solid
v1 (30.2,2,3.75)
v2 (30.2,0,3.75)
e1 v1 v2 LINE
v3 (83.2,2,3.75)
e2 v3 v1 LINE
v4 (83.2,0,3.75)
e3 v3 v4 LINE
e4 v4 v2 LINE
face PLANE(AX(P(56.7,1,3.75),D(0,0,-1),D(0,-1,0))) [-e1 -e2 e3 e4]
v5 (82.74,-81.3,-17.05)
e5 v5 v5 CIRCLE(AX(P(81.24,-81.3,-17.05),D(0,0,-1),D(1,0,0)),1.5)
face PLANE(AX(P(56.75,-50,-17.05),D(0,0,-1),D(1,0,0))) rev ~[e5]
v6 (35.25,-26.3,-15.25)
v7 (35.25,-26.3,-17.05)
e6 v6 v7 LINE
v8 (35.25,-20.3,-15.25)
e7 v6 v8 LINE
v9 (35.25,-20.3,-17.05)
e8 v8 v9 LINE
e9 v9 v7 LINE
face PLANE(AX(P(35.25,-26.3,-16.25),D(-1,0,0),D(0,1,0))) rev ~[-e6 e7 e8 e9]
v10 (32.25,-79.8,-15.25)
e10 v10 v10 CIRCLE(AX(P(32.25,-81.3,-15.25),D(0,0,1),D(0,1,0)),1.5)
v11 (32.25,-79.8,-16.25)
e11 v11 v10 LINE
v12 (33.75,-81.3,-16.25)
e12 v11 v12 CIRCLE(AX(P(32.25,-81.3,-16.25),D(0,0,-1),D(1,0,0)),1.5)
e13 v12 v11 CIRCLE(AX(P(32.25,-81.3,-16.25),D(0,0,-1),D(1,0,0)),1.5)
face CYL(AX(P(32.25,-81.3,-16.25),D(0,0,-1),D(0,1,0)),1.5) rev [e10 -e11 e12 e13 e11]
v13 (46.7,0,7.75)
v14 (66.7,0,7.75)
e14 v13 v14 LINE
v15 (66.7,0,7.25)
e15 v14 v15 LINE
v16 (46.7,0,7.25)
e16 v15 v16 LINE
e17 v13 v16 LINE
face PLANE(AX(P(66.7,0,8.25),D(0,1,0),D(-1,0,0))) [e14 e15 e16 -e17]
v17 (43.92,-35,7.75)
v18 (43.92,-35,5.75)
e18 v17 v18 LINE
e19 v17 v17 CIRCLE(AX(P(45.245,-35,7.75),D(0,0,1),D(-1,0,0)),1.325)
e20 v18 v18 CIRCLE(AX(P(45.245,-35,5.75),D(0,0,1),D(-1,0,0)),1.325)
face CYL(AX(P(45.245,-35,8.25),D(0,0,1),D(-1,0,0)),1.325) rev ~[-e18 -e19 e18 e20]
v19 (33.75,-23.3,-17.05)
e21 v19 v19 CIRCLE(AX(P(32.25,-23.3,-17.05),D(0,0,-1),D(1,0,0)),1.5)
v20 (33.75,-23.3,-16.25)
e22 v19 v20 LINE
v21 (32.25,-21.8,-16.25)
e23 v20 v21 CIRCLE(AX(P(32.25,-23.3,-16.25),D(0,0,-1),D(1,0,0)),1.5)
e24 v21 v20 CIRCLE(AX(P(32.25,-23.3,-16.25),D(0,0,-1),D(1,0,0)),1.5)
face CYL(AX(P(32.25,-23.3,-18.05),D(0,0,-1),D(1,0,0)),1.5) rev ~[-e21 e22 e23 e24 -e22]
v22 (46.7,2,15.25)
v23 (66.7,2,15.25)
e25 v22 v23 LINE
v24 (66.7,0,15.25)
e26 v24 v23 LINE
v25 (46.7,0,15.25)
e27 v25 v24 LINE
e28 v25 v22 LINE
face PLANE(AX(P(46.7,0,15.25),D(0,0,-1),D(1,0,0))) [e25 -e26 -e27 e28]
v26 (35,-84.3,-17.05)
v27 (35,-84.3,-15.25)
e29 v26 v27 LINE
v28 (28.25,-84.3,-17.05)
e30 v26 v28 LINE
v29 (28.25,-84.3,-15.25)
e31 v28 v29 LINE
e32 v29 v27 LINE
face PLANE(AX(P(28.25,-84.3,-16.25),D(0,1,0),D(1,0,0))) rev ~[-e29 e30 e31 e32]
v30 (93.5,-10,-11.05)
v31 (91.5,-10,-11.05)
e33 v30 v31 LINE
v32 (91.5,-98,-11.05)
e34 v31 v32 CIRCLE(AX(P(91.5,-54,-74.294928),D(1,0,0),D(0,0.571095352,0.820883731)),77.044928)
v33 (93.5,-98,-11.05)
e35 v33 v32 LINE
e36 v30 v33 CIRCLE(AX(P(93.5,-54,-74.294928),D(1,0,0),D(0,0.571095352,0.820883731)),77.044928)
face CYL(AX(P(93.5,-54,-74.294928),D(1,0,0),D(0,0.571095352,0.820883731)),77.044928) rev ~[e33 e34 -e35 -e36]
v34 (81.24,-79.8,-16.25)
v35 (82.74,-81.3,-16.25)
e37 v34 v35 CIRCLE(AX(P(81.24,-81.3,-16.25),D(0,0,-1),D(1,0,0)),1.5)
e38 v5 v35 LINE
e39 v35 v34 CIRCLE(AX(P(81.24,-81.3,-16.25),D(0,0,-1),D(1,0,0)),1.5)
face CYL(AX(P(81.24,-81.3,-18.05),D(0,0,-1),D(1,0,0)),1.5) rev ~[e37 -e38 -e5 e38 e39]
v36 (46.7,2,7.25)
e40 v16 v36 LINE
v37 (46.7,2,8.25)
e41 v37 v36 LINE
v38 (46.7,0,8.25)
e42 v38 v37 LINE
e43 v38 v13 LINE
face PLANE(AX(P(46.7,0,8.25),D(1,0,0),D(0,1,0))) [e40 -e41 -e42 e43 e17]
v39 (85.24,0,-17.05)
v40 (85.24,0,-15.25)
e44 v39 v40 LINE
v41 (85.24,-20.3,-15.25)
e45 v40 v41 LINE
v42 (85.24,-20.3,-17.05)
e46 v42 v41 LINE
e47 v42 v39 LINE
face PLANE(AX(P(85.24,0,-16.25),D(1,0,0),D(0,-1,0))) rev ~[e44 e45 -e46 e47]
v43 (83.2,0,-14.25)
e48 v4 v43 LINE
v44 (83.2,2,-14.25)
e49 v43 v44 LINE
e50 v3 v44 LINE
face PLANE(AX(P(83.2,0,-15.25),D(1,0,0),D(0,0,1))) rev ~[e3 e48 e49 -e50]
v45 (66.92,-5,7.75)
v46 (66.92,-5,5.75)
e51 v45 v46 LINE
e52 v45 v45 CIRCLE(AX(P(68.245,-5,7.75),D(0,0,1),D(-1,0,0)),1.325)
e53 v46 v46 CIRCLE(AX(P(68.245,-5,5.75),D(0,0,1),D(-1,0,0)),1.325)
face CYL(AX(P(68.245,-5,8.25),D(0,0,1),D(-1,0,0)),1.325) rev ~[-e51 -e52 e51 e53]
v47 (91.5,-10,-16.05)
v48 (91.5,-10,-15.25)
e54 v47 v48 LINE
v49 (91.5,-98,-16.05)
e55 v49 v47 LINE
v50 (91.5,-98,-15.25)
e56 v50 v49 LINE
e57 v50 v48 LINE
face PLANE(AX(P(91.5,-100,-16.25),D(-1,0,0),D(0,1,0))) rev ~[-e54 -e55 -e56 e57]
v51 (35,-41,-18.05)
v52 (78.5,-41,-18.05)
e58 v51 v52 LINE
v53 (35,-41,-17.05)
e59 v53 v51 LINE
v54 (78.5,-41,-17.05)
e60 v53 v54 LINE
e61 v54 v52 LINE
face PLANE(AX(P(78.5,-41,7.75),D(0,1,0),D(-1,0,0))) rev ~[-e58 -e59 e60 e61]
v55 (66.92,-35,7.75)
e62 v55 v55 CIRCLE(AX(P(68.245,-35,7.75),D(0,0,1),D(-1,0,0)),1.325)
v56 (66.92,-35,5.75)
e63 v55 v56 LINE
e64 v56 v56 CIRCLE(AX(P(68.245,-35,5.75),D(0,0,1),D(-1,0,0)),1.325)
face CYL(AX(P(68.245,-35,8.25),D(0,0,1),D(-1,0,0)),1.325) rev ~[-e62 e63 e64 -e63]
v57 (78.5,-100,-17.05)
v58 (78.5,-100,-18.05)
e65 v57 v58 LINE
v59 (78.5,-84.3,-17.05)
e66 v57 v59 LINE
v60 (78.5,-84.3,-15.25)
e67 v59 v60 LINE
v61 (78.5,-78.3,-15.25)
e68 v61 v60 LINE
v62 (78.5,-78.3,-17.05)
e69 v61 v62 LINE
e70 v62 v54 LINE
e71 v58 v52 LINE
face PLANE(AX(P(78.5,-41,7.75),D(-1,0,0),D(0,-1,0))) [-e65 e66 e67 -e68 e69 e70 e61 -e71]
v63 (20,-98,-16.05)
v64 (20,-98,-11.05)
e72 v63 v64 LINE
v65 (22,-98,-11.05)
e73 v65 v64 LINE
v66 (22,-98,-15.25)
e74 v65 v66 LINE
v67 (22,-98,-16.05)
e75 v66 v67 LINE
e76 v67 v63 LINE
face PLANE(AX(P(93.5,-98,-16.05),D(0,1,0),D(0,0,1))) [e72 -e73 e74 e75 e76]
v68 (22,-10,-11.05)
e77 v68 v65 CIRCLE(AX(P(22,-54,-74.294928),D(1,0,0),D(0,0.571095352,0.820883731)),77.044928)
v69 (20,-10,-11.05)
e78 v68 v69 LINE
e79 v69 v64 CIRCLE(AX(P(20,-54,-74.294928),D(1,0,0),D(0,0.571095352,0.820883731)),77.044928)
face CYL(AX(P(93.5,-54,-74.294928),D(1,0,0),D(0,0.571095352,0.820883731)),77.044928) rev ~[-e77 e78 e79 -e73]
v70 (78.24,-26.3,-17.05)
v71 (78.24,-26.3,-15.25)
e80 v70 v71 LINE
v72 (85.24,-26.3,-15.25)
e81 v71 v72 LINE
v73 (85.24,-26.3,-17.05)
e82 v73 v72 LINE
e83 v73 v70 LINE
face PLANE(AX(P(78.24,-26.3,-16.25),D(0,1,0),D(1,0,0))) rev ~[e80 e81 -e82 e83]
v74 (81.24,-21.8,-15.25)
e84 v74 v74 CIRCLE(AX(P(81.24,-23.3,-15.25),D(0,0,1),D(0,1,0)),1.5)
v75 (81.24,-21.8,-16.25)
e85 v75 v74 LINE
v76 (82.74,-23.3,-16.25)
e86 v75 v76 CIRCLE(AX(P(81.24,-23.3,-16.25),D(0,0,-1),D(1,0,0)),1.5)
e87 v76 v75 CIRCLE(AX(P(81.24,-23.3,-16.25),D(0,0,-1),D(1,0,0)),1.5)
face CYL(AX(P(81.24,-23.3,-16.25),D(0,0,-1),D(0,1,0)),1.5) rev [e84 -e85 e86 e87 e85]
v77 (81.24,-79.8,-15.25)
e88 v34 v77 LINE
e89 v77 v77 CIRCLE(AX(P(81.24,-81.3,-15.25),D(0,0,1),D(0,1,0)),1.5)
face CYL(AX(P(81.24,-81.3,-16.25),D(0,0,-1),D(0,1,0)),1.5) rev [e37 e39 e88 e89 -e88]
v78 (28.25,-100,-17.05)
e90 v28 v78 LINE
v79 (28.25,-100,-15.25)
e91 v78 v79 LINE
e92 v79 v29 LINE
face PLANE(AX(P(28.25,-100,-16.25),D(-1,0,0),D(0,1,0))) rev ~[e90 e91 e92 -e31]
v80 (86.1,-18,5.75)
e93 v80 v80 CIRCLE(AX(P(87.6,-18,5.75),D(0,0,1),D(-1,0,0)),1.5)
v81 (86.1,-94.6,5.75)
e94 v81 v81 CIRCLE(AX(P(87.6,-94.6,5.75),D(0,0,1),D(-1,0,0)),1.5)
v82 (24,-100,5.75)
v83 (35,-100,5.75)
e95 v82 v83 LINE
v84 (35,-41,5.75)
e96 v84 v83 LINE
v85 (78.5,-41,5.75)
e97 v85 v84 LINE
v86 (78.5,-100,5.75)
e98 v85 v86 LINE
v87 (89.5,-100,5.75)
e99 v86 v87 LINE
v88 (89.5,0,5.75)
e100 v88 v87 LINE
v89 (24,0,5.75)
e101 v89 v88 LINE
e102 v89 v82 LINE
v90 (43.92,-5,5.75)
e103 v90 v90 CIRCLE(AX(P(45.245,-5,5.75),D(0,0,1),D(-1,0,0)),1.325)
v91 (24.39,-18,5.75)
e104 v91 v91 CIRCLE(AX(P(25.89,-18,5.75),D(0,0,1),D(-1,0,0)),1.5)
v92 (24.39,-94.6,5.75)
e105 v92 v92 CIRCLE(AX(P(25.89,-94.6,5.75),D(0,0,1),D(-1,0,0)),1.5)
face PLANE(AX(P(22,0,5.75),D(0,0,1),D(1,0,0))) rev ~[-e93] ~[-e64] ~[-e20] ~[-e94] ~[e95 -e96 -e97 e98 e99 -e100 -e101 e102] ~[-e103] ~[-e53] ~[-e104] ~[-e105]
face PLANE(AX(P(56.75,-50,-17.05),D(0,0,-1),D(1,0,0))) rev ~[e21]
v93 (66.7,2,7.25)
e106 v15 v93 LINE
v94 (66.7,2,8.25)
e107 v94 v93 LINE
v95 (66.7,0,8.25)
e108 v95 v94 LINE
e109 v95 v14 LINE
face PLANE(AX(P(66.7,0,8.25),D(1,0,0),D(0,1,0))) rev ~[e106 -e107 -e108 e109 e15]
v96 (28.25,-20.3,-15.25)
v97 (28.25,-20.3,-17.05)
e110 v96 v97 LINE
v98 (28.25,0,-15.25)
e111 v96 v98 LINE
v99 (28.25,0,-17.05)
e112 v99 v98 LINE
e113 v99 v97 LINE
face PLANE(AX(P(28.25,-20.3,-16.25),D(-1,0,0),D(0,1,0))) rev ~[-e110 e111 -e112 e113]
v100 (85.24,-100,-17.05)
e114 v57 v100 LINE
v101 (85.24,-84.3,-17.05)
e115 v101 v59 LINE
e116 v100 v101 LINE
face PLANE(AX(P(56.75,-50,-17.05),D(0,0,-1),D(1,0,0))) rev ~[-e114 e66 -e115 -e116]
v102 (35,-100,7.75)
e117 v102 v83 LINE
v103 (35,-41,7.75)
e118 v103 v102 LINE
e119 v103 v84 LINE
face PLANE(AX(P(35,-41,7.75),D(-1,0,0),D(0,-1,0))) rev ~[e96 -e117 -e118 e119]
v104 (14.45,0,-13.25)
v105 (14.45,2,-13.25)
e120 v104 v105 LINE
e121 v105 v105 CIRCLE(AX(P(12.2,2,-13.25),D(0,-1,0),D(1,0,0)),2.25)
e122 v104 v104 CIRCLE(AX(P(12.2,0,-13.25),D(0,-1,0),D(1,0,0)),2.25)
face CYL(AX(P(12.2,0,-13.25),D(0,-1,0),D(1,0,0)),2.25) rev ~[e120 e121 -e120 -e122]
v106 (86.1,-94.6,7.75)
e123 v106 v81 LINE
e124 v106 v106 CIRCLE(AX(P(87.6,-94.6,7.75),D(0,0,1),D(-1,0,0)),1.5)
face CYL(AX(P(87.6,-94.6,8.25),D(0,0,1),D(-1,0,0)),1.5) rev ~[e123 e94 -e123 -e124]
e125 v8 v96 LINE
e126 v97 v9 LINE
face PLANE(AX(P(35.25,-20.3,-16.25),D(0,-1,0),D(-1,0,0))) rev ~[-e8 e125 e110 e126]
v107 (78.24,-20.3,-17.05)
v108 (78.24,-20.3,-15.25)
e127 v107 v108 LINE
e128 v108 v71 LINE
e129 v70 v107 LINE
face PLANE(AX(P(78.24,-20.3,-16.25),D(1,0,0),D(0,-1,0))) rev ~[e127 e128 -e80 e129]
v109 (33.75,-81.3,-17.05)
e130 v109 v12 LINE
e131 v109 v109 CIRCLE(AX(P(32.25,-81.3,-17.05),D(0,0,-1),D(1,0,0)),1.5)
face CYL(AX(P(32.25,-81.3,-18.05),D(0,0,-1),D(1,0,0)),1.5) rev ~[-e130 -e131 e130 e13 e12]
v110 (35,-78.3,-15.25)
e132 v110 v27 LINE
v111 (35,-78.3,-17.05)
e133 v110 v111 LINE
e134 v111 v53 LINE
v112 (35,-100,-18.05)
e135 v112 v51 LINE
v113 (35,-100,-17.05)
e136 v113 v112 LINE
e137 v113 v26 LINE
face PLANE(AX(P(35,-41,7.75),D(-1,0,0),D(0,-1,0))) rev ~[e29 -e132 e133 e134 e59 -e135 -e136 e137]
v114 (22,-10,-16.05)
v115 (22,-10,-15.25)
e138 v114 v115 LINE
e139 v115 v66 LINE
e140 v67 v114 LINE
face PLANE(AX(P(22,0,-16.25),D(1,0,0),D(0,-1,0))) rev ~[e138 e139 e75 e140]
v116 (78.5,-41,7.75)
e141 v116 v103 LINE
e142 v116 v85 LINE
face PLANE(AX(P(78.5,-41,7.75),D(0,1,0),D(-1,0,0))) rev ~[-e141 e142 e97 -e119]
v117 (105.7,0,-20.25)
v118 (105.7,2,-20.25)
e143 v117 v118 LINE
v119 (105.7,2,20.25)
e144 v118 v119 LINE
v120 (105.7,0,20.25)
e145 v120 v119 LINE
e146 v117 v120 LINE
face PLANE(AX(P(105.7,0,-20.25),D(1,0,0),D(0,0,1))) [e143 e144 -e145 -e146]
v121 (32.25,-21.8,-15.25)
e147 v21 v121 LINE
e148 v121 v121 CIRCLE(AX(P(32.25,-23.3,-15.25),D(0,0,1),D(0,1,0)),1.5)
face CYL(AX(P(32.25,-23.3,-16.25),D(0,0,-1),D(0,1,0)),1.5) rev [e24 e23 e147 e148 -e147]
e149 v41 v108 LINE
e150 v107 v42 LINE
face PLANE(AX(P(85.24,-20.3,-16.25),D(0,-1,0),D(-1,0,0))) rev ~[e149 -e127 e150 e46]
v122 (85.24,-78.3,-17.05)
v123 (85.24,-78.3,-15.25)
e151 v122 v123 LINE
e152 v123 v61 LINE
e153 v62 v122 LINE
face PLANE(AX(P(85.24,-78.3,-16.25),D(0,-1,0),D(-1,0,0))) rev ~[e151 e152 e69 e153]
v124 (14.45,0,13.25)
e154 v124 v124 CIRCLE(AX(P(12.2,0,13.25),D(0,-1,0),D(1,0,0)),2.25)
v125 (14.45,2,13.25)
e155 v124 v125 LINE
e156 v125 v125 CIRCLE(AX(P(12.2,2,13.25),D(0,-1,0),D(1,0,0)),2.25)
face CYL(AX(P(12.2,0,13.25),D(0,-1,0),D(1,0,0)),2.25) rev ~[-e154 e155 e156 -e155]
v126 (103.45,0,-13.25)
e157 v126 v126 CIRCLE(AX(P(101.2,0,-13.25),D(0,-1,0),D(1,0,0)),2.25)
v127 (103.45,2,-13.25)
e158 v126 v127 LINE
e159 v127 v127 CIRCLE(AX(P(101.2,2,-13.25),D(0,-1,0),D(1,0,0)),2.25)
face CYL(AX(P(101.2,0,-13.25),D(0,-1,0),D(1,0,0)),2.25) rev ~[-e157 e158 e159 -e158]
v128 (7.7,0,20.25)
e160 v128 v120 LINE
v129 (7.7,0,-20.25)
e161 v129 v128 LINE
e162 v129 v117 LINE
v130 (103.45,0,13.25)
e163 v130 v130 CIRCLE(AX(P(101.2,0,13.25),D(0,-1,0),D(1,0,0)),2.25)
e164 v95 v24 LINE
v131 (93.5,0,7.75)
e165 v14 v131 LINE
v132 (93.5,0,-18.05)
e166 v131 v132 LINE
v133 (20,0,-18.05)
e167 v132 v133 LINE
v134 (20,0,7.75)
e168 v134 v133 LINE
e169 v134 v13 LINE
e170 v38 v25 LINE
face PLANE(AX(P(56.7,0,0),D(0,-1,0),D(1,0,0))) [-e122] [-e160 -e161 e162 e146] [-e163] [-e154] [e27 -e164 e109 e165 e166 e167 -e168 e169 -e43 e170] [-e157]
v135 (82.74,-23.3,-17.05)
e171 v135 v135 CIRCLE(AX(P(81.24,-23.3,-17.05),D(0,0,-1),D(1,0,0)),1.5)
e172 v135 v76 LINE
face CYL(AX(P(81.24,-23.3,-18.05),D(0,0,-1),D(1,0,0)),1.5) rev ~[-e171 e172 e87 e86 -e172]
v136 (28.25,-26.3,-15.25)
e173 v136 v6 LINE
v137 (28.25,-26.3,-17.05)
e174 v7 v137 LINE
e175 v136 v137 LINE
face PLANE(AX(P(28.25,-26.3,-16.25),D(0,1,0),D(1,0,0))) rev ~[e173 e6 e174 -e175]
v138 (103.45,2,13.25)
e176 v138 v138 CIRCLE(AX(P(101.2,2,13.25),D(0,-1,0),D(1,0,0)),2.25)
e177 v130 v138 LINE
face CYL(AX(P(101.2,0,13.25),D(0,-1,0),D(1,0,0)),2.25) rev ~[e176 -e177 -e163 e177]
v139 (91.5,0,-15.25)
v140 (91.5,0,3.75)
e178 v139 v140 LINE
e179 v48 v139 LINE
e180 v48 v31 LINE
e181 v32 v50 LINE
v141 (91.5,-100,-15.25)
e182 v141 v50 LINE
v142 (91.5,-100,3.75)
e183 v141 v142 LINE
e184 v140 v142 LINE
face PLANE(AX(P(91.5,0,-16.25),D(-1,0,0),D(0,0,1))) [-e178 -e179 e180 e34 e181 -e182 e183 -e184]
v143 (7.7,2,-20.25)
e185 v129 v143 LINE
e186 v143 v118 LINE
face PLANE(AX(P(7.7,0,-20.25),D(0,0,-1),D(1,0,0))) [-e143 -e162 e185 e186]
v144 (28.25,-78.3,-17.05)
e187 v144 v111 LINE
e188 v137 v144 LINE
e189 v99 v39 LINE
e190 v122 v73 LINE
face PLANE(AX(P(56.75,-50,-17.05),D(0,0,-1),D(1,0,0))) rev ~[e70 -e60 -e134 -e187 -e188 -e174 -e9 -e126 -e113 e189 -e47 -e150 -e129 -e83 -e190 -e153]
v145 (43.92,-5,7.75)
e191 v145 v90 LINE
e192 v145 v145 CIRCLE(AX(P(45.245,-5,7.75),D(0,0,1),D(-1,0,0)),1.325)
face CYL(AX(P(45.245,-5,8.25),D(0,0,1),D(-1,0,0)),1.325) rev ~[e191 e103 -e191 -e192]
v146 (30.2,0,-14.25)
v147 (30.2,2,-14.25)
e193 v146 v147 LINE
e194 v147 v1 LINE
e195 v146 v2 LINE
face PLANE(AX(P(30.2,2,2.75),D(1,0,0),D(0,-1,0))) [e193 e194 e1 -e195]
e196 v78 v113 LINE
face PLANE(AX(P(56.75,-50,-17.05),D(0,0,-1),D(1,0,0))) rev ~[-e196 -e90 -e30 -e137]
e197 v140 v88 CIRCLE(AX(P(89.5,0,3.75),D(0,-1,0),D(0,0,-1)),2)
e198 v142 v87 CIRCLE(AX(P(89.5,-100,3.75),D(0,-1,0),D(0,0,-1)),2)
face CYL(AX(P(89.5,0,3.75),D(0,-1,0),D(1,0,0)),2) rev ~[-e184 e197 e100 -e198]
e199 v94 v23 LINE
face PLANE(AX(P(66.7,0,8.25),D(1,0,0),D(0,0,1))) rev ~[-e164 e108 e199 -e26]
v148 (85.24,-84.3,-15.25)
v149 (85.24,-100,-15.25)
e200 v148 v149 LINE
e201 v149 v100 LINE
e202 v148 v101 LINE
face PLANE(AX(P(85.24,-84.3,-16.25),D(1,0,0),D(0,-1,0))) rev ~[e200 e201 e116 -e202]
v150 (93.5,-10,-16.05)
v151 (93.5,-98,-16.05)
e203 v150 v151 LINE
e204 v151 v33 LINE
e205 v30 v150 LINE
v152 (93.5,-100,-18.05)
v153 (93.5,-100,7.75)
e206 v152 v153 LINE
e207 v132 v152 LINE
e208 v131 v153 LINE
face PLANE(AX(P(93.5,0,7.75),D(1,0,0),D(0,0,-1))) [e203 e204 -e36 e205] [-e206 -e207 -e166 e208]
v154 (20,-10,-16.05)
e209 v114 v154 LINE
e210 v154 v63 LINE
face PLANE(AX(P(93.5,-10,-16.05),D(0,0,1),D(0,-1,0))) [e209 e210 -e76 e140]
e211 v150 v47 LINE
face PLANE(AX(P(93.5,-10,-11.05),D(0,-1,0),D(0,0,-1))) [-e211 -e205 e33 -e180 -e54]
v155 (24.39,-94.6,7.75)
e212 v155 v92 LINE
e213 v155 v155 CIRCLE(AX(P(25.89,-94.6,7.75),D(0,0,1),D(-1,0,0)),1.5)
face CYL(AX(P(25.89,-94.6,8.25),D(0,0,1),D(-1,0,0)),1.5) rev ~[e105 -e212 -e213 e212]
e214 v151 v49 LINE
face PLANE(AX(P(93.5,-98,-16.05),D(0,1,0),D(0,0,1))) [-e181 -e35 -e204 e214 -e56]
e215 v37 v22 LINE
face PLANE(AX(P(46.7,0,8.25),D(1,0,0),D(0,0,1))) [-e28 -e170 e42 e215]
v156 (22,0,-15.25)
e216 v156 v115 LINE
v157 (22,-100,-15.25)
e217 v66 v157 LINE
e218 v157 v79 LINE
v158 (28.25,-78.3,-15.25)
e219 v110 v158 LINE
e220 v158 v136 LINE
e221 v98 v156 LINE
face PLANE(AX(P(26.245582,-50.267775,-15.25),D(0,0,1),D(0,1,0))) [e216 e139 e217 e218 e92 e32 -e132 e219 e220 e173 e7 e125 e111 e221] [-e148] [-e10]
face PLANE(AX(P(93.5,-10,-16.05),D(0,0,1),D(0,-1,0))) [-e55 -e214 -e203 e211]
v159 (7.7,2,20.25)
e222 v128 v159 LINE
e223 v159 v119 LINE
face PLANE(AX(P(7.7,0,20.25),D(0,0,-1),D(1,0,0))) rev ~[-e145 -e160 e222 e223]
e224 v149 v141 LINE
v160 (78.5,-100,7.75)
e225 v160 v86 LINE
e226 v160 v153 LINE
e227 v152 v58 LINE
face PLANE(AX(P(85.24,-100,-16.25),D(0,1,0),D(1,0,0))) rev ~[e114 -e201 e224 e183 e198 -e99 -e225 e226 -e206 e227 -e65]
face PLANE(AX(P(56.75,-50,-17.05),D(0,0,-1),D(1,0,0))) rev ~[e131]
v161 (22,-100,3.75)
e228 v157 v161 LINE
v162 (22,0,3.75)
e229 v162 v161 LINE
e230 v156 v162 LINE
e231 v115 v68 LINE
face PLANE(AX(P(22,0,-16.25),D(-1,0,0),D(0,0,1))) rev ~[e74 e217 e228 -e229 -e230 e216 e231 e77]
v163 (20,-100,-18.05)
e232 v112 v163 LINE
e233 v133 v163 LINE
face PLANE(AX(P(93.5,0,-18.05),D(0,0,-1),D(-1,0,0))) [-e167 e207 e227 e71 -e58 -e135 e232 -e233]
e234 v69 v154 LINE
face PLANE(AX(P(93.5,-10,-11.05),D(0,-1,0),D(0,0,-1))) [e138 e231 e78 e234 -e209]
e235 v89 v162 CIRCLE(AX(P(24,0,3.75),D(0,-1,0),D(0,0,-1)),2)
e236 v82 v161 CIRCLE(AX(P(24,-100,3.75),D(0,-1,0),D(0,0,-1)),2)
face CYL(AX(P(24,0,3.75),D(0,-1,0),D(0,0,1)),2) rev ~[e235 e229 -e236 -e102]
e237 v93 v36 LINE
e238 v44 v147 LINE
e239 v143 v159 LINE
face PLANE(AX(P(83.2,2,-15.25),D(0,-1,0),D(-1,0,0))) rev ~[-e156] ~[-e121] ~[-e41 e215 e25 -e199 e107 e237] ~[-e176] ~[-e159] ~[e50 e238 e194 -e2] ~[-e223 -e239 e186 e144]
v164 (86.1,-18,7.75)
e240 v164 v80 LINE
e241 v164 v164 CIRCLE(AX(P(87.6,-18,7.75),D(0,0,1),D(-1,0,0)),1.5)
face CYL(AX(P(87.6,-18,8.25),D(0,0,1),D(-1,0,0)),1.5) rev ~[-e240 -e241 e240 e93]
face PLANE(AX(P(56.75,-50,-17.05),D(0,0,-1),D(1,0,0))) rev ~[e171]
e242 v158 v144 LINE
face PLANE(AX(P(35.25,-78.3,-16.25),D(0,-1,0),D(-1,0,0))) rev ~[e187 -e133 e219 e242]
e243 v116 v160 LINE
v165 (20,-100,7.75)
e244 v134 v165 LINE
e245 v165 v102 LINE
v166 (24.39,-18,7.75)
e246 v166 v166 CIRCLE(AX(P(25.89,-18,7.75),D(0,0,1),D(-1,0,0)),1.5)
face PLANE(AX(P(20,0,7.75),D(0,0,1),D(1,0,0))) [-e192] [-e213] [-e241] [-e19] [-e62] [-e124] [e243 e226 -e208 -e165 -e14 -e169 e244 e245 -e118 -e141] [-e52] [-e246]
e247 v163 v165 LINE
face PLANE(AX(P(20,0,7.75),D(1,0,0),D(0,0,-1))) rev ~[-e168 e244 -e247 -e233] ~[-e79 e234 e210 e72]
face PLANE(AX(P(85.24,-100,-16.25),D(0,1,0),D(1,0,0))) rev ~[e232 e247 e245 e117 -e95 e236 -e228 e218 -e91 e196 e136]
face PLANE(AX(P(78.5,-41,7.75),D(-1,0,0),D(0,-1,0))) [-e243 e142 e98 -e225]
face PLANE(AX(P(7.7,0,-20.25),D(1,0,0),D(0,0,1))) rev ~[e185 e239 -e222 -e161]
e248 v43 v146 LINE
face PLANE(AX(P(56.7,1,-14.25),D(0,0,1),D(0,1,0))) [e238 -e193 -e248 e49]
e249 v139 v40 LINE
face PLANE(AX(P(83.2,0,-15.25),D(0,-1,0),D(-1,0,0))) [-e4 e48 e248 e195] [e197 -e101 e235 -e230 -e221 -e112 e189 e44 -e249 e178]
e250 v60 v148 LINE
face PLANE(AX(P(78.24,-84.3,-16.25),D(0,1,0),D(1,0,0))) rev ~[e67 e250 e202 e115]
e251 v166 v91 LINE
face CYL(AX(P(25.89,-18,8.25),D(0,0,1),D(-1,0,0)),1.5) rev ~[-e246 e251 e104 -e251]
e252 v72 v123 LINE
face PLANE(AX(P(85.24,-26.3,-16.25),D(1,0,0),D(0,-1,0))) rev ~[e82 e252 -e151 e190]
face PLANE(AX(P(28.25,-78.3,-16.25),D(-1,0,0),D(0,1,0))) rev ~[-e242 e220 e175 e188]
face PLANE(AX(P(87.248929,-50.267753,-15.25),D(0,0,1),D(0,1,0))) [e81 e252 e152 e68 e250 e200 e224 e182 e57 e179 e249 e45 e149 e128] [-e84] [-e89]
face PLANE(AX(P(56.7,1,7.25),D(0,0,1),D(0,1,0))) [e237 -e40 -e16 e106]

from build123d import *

# Parameters (mm, degrees)
SKETCH020_W        = 98
SKETCH020_H        = 40.5
SKETCH020_R        = 2.25
SKETCH020_W_2      = 53
SKETCH020_H_2      = 18
SKETCH020_W_3      = 20
SKETCH020_H_3      = 7
PAD006_DEPTH       = 2
SKETCH022_W        = 69.5
SKETCH022_H        = 22
PAD007_DEPTH       = 100
POCKET009_DEPTH    = 85.801
SKETCH024_R        = 1.5
SKETCH024_R_2      = 1.325
POCKET010_DEPTH    = 5
SKETCH026_R        = 1.5
POCKET011_DEPTH    = 5
POCKET012_DEPTH    = 5
SKETCH031_W        = 73.5
SKETCH031_H        = 100
PAD013_DEPTH       = 1
PAD013_FACE55_R    = 1.5
PAD014_DEPTH       = 1
PAD014_FACE59_R    = 1.5
PAD015_DEPTH       = 1
PAD015_FACE27_W    = 2
PAD015_FACE27_H    = 53
POCKET013_DEPTH    = 1
POCKET013_FACE28_W = 2
POCKET013_FACE28_H = 53
PAD016_DEPTH       = 1
SKETCH032_W        = 43.5
SKETCH032_H        = 59
POCKET014_DEPTH    = 28.001
POCKET014_FACE11_W = 2
POCKET014_FACE11_H = 20
POCKET015_DEPTH    = 1
FILLET_R           = 2


with BuildPart() as part:
    # Sketch020 → Pad006 (new body)
    with BuildSketch(Plane.XZ):
        with Locations((56.7, 0)):
            Rectangle(SKETCH020_W, SKETCH020_H)
        with Locations((12.2, 13.25)):
            Circle(SKETCH020_R, mode=Mode.SUBTRACT)
        with Locations((12.2, -13.25)):
            Circle(SKETCH020_R, mode=Mode.SUBTRACT)
        with Locations((101.2, -13.25)):
            Circle(SKETCH020_R, mode=Mode.SUBTRACT)
        with Locations((101.2, 13.25)):
            Circle(SKETCH020_R, mode=Mode.SUBTRACT)
        with Locations((56.7, -6.25)):
            Rectangle(SKETCH020_W_2, SKETCH020_H_2, mode=Mode.SUBTRACT)
        with Locations((56.7, 11.75)):
            Rectangle(SKETCH020_W_3, SKETCH020_H_3, mode=Mode.SUBTRACT)
    extrude(amount=-PAD006_DEPTH)

    # Sketch022 (on Face17 of Pad006) → Pad007 (join)
    with BuildSketch(Plane.XZ):
        Polygon((93.5, 7.75), (93.5, -18.05), (20, -18.05), (20, -16.25), (20, 7.75), align=None)
        with Locations((56.75, -5.25)):
            Rectangle(SKETCH022_W, SKETCH022_H, mode=Mode.SUBTRACT)
    extrude(amount=PAD007_DEPTH)

    # Sketch023 (on Face13 of Pad007) → Pocket009 (cut, through all)
    with BuildSketch(Plane(origin=(93.5, 0, 0), x_dir=(0, 0, 1), z_dir=(1, 0, 0))):
        with BuildLine():
            Line((-11.05, 10), (-16.05, 10))
            Line((-16.05, 10), (-16.05, 98))
            Line((-16.05, 98), (-11.05, 98))
            ThreePointArc((-11.05, 10), (2.75, 54), (-11.05, 98))
        make_face()
    extrude(amount=-POCKET009_DEPTH, mode=Mode.SUBTRACT)

    # Sketch024 (on Face11 of Pocket009) → Pocket010 (cut)
    with BuildSketch(Plane(origin=(0, 0, 8.25), x_dir=(-1, 0, 0), z_dir=(0, 0, 1))):
        with Locations((-87.6, 94.6)):
            Circle(SKETCH024_R)
        with Locations((-25.89, 94.6)):
            Circle(SKETCH024_R)
        with Locations((-87.6, 18)):
            Circle(SKETCH024_R)
        with Locations((-25.89, 18)):
            Circle(SKETCH024_R)
        with Locations((-68.245, 5)):
            Circle(SKETCH024_R_2)
        with Locations((-45.245, 5)):
            Circle(SKETCH024_R_2)
        with Locations((-68.245, 35)):
            Circle(SKETCH024_R_2)
        with Locations((-45.245, 35)):
            Circle(SKETCH024_R_2)
    extrude(amount=-POCKET010_DEPTH, mode=Mode.SUBTRACT)

    # Sketch026 → Pocket011 (cut)
    with BuildSketch(Plane(origin=(0, 0, -18.05), x_dir=(1, 0, 0), z_dir=(0, 0, -1))):
        with Locations((81.24, 81.3)):
            Circle(SKETCH026_R)
        with Locations((81.24, 23.3)):
            Circle(SKETCH026_R)
        with Locations((32.25, 81.3)):
            Circle(SKETCH026_R)
        with Locations((32.25, 23.3)):
            Circle(SKETCH026_R)
    extrude(amount=-POCKET011_DEPTH, mode=Mode.SUBTRACT)

    # Sketch027 (on Face14 of Pocket011) → Pocket012 (cut)
    with BuildSketch(Plane(origin=(0, 0, -18.05), x_dir=(1, 0, 0), z_dir=(0, 0, -1))):
        Polygon((28.25, 84.3), (35.25, 84.3), (35.25, 78.3), (28.25, 78.3), (28.25, 26.3), (35.25, 26.3), (35.25, 20.3), (28.25, 20.3), (28.25, 0), (85.24, 0), (85.24, 20.3), (78.24, 20.3), (78.24, 26.3), (85.24, 26.3), (85.24, 78.3), (78.24, 78.3), (78.24, 84.3), (85.24, 84.3), (85.24, 100), (28.25, 100), align=None)
    extrude(amount=-POCKET012_DEPTH, mode=Mode.SUBTRACT)

    # Sketch031 → Pad013 (join)
    with BuildSketch(Plane(origin=(0, 0, -18.05), x_dir=(1, 0, 0), z_dir=(0, 0, -1))):
        with Locations((56.75, 50)):
            Rectangle(SKETCH031_W, SKETCH031_H)
    extrude(amount=-PAD013_DEPTH)

    # Pad013 Face55 → Pad014 (add)
    with BuildSketch(Plane(origin=(25.780917, -50.231246, -16.25), x_dir=(0, 1, 0), z_dir=(0, 0, 1))):
        Polygon((50.231246, -2.469083), (50.231246, 3.780917), (-49.768754, 3.780917), (-49.768754, -2.469083), (-34.068754, -2.469083), (-34.068754, -9.469083), (-28.068754, -9.469083), (-28.068754, -2.469083), (23.931246, -2.469083), (23.931246, -9.469083), (29.931246, -9.469083), (29.931246, -2.469083), align=None)
        with Locations((-31.068754, -6.469083)):
            Circle(PAD013_FACE55_R, mode=Mode.SUBTRACT)
        with Locations((26.931246, -6.469083)):
            Circle(PAD013_FACE55_R, mode=Mode.SUBTRACT)
    extrude(amount=PAD014_DEPTH)

    # Pad014 Face59 → Pad015 (add)
    with BuildSketch(Plane(origin=(87.714523, -50.230914, -16.25), x_dir=(0, 1, 0), z_dir=(0, 0, 1))):
        Polygon((50.230914, -3.785477), (50.230914, 2.474523), (29.930914, 2.474523), (29.930914, 9.474523), (23.930914, 9.474523), (23.930914, 2.474523), (-28.069086, 2.474523), (-28.069086, 9.474523), (-34.069086, 9.474523), (-34.069086, 2.474523), (-49.769086, 2.474523), (-49.769086, -3.785477), align=None)
        with Locations((-31.069086, 6.474523)):
            Circle(PAD014_FACE59_R, mode=Mode.SUBTRACT)
        with Locations((26.930914, 6.474523)):
            Circle(PAD014_FACE59_R, mode=Mode.SUBTRACT)
    extrude(amount=PAD015_DEPTH)

    # Pad015 Face27 → Pocket013 (cut)
    with BuildSketch(Plane(origin=(56.7, 1, 2.75), x_dir=(0, -1, 0), z_dir=(0, 0, -1))):
        Rectangle(PAD015_FACE27_W, PAD015_FACE27_H)
    extrude(amount=-POCKET013_DEPTH, mode=Mode.SUBTRACT)

    # Pocket013 Face28 → Pad016 (add)
    with BuildSketch(Plane(origin=(56.7, 1, -15.25), x_dir=(0, 1, 0), z_dir=(0, 0, 1))):
        Rectangle(POCKET013_FACE28_W, POCKET013_FACE28_H)
    extrude(amount=PAD016_DEPTH)

    # Sketch032 (on Face21 of Pad016) → Pocket014 (cut, through all)
    with BuildSketch(Plane(origin=(0, 0, 7.75), x_dir=(-1, 0, 0), z_dir=(0, 0, 1))):
        with Locations((-56.75, 70.5)):
            Rectangle(SKETCH032_W, SKETCH032_H)
    extrude(amount=-POCKET014_DEPTH, mode=Mode.SUBTRACT)

    # Pocket014 Face11 → Pocket015 (cut)
    with BuildSketch(Plane(origin=(56.7, 1, 8.25), x_dir=(0, 1, 0), z_dir=(0, 0, 1))):
        Rectangle(POCKET014_FACE11_W, POCKET014_FACE11_H)
    extrude(amount=-POCKET015_DEPTH, mode=Mode.SUBTRACT)

    # Fillet
    fillet_edges = [part.edges().sort_by_distance(p)[0] for p in [
        (91.5, -50, 5.75),
        (22, -50, 5.75),
    ]]
    fillet(fillet_edges, radius=FILLET_R)


solid = part.part
